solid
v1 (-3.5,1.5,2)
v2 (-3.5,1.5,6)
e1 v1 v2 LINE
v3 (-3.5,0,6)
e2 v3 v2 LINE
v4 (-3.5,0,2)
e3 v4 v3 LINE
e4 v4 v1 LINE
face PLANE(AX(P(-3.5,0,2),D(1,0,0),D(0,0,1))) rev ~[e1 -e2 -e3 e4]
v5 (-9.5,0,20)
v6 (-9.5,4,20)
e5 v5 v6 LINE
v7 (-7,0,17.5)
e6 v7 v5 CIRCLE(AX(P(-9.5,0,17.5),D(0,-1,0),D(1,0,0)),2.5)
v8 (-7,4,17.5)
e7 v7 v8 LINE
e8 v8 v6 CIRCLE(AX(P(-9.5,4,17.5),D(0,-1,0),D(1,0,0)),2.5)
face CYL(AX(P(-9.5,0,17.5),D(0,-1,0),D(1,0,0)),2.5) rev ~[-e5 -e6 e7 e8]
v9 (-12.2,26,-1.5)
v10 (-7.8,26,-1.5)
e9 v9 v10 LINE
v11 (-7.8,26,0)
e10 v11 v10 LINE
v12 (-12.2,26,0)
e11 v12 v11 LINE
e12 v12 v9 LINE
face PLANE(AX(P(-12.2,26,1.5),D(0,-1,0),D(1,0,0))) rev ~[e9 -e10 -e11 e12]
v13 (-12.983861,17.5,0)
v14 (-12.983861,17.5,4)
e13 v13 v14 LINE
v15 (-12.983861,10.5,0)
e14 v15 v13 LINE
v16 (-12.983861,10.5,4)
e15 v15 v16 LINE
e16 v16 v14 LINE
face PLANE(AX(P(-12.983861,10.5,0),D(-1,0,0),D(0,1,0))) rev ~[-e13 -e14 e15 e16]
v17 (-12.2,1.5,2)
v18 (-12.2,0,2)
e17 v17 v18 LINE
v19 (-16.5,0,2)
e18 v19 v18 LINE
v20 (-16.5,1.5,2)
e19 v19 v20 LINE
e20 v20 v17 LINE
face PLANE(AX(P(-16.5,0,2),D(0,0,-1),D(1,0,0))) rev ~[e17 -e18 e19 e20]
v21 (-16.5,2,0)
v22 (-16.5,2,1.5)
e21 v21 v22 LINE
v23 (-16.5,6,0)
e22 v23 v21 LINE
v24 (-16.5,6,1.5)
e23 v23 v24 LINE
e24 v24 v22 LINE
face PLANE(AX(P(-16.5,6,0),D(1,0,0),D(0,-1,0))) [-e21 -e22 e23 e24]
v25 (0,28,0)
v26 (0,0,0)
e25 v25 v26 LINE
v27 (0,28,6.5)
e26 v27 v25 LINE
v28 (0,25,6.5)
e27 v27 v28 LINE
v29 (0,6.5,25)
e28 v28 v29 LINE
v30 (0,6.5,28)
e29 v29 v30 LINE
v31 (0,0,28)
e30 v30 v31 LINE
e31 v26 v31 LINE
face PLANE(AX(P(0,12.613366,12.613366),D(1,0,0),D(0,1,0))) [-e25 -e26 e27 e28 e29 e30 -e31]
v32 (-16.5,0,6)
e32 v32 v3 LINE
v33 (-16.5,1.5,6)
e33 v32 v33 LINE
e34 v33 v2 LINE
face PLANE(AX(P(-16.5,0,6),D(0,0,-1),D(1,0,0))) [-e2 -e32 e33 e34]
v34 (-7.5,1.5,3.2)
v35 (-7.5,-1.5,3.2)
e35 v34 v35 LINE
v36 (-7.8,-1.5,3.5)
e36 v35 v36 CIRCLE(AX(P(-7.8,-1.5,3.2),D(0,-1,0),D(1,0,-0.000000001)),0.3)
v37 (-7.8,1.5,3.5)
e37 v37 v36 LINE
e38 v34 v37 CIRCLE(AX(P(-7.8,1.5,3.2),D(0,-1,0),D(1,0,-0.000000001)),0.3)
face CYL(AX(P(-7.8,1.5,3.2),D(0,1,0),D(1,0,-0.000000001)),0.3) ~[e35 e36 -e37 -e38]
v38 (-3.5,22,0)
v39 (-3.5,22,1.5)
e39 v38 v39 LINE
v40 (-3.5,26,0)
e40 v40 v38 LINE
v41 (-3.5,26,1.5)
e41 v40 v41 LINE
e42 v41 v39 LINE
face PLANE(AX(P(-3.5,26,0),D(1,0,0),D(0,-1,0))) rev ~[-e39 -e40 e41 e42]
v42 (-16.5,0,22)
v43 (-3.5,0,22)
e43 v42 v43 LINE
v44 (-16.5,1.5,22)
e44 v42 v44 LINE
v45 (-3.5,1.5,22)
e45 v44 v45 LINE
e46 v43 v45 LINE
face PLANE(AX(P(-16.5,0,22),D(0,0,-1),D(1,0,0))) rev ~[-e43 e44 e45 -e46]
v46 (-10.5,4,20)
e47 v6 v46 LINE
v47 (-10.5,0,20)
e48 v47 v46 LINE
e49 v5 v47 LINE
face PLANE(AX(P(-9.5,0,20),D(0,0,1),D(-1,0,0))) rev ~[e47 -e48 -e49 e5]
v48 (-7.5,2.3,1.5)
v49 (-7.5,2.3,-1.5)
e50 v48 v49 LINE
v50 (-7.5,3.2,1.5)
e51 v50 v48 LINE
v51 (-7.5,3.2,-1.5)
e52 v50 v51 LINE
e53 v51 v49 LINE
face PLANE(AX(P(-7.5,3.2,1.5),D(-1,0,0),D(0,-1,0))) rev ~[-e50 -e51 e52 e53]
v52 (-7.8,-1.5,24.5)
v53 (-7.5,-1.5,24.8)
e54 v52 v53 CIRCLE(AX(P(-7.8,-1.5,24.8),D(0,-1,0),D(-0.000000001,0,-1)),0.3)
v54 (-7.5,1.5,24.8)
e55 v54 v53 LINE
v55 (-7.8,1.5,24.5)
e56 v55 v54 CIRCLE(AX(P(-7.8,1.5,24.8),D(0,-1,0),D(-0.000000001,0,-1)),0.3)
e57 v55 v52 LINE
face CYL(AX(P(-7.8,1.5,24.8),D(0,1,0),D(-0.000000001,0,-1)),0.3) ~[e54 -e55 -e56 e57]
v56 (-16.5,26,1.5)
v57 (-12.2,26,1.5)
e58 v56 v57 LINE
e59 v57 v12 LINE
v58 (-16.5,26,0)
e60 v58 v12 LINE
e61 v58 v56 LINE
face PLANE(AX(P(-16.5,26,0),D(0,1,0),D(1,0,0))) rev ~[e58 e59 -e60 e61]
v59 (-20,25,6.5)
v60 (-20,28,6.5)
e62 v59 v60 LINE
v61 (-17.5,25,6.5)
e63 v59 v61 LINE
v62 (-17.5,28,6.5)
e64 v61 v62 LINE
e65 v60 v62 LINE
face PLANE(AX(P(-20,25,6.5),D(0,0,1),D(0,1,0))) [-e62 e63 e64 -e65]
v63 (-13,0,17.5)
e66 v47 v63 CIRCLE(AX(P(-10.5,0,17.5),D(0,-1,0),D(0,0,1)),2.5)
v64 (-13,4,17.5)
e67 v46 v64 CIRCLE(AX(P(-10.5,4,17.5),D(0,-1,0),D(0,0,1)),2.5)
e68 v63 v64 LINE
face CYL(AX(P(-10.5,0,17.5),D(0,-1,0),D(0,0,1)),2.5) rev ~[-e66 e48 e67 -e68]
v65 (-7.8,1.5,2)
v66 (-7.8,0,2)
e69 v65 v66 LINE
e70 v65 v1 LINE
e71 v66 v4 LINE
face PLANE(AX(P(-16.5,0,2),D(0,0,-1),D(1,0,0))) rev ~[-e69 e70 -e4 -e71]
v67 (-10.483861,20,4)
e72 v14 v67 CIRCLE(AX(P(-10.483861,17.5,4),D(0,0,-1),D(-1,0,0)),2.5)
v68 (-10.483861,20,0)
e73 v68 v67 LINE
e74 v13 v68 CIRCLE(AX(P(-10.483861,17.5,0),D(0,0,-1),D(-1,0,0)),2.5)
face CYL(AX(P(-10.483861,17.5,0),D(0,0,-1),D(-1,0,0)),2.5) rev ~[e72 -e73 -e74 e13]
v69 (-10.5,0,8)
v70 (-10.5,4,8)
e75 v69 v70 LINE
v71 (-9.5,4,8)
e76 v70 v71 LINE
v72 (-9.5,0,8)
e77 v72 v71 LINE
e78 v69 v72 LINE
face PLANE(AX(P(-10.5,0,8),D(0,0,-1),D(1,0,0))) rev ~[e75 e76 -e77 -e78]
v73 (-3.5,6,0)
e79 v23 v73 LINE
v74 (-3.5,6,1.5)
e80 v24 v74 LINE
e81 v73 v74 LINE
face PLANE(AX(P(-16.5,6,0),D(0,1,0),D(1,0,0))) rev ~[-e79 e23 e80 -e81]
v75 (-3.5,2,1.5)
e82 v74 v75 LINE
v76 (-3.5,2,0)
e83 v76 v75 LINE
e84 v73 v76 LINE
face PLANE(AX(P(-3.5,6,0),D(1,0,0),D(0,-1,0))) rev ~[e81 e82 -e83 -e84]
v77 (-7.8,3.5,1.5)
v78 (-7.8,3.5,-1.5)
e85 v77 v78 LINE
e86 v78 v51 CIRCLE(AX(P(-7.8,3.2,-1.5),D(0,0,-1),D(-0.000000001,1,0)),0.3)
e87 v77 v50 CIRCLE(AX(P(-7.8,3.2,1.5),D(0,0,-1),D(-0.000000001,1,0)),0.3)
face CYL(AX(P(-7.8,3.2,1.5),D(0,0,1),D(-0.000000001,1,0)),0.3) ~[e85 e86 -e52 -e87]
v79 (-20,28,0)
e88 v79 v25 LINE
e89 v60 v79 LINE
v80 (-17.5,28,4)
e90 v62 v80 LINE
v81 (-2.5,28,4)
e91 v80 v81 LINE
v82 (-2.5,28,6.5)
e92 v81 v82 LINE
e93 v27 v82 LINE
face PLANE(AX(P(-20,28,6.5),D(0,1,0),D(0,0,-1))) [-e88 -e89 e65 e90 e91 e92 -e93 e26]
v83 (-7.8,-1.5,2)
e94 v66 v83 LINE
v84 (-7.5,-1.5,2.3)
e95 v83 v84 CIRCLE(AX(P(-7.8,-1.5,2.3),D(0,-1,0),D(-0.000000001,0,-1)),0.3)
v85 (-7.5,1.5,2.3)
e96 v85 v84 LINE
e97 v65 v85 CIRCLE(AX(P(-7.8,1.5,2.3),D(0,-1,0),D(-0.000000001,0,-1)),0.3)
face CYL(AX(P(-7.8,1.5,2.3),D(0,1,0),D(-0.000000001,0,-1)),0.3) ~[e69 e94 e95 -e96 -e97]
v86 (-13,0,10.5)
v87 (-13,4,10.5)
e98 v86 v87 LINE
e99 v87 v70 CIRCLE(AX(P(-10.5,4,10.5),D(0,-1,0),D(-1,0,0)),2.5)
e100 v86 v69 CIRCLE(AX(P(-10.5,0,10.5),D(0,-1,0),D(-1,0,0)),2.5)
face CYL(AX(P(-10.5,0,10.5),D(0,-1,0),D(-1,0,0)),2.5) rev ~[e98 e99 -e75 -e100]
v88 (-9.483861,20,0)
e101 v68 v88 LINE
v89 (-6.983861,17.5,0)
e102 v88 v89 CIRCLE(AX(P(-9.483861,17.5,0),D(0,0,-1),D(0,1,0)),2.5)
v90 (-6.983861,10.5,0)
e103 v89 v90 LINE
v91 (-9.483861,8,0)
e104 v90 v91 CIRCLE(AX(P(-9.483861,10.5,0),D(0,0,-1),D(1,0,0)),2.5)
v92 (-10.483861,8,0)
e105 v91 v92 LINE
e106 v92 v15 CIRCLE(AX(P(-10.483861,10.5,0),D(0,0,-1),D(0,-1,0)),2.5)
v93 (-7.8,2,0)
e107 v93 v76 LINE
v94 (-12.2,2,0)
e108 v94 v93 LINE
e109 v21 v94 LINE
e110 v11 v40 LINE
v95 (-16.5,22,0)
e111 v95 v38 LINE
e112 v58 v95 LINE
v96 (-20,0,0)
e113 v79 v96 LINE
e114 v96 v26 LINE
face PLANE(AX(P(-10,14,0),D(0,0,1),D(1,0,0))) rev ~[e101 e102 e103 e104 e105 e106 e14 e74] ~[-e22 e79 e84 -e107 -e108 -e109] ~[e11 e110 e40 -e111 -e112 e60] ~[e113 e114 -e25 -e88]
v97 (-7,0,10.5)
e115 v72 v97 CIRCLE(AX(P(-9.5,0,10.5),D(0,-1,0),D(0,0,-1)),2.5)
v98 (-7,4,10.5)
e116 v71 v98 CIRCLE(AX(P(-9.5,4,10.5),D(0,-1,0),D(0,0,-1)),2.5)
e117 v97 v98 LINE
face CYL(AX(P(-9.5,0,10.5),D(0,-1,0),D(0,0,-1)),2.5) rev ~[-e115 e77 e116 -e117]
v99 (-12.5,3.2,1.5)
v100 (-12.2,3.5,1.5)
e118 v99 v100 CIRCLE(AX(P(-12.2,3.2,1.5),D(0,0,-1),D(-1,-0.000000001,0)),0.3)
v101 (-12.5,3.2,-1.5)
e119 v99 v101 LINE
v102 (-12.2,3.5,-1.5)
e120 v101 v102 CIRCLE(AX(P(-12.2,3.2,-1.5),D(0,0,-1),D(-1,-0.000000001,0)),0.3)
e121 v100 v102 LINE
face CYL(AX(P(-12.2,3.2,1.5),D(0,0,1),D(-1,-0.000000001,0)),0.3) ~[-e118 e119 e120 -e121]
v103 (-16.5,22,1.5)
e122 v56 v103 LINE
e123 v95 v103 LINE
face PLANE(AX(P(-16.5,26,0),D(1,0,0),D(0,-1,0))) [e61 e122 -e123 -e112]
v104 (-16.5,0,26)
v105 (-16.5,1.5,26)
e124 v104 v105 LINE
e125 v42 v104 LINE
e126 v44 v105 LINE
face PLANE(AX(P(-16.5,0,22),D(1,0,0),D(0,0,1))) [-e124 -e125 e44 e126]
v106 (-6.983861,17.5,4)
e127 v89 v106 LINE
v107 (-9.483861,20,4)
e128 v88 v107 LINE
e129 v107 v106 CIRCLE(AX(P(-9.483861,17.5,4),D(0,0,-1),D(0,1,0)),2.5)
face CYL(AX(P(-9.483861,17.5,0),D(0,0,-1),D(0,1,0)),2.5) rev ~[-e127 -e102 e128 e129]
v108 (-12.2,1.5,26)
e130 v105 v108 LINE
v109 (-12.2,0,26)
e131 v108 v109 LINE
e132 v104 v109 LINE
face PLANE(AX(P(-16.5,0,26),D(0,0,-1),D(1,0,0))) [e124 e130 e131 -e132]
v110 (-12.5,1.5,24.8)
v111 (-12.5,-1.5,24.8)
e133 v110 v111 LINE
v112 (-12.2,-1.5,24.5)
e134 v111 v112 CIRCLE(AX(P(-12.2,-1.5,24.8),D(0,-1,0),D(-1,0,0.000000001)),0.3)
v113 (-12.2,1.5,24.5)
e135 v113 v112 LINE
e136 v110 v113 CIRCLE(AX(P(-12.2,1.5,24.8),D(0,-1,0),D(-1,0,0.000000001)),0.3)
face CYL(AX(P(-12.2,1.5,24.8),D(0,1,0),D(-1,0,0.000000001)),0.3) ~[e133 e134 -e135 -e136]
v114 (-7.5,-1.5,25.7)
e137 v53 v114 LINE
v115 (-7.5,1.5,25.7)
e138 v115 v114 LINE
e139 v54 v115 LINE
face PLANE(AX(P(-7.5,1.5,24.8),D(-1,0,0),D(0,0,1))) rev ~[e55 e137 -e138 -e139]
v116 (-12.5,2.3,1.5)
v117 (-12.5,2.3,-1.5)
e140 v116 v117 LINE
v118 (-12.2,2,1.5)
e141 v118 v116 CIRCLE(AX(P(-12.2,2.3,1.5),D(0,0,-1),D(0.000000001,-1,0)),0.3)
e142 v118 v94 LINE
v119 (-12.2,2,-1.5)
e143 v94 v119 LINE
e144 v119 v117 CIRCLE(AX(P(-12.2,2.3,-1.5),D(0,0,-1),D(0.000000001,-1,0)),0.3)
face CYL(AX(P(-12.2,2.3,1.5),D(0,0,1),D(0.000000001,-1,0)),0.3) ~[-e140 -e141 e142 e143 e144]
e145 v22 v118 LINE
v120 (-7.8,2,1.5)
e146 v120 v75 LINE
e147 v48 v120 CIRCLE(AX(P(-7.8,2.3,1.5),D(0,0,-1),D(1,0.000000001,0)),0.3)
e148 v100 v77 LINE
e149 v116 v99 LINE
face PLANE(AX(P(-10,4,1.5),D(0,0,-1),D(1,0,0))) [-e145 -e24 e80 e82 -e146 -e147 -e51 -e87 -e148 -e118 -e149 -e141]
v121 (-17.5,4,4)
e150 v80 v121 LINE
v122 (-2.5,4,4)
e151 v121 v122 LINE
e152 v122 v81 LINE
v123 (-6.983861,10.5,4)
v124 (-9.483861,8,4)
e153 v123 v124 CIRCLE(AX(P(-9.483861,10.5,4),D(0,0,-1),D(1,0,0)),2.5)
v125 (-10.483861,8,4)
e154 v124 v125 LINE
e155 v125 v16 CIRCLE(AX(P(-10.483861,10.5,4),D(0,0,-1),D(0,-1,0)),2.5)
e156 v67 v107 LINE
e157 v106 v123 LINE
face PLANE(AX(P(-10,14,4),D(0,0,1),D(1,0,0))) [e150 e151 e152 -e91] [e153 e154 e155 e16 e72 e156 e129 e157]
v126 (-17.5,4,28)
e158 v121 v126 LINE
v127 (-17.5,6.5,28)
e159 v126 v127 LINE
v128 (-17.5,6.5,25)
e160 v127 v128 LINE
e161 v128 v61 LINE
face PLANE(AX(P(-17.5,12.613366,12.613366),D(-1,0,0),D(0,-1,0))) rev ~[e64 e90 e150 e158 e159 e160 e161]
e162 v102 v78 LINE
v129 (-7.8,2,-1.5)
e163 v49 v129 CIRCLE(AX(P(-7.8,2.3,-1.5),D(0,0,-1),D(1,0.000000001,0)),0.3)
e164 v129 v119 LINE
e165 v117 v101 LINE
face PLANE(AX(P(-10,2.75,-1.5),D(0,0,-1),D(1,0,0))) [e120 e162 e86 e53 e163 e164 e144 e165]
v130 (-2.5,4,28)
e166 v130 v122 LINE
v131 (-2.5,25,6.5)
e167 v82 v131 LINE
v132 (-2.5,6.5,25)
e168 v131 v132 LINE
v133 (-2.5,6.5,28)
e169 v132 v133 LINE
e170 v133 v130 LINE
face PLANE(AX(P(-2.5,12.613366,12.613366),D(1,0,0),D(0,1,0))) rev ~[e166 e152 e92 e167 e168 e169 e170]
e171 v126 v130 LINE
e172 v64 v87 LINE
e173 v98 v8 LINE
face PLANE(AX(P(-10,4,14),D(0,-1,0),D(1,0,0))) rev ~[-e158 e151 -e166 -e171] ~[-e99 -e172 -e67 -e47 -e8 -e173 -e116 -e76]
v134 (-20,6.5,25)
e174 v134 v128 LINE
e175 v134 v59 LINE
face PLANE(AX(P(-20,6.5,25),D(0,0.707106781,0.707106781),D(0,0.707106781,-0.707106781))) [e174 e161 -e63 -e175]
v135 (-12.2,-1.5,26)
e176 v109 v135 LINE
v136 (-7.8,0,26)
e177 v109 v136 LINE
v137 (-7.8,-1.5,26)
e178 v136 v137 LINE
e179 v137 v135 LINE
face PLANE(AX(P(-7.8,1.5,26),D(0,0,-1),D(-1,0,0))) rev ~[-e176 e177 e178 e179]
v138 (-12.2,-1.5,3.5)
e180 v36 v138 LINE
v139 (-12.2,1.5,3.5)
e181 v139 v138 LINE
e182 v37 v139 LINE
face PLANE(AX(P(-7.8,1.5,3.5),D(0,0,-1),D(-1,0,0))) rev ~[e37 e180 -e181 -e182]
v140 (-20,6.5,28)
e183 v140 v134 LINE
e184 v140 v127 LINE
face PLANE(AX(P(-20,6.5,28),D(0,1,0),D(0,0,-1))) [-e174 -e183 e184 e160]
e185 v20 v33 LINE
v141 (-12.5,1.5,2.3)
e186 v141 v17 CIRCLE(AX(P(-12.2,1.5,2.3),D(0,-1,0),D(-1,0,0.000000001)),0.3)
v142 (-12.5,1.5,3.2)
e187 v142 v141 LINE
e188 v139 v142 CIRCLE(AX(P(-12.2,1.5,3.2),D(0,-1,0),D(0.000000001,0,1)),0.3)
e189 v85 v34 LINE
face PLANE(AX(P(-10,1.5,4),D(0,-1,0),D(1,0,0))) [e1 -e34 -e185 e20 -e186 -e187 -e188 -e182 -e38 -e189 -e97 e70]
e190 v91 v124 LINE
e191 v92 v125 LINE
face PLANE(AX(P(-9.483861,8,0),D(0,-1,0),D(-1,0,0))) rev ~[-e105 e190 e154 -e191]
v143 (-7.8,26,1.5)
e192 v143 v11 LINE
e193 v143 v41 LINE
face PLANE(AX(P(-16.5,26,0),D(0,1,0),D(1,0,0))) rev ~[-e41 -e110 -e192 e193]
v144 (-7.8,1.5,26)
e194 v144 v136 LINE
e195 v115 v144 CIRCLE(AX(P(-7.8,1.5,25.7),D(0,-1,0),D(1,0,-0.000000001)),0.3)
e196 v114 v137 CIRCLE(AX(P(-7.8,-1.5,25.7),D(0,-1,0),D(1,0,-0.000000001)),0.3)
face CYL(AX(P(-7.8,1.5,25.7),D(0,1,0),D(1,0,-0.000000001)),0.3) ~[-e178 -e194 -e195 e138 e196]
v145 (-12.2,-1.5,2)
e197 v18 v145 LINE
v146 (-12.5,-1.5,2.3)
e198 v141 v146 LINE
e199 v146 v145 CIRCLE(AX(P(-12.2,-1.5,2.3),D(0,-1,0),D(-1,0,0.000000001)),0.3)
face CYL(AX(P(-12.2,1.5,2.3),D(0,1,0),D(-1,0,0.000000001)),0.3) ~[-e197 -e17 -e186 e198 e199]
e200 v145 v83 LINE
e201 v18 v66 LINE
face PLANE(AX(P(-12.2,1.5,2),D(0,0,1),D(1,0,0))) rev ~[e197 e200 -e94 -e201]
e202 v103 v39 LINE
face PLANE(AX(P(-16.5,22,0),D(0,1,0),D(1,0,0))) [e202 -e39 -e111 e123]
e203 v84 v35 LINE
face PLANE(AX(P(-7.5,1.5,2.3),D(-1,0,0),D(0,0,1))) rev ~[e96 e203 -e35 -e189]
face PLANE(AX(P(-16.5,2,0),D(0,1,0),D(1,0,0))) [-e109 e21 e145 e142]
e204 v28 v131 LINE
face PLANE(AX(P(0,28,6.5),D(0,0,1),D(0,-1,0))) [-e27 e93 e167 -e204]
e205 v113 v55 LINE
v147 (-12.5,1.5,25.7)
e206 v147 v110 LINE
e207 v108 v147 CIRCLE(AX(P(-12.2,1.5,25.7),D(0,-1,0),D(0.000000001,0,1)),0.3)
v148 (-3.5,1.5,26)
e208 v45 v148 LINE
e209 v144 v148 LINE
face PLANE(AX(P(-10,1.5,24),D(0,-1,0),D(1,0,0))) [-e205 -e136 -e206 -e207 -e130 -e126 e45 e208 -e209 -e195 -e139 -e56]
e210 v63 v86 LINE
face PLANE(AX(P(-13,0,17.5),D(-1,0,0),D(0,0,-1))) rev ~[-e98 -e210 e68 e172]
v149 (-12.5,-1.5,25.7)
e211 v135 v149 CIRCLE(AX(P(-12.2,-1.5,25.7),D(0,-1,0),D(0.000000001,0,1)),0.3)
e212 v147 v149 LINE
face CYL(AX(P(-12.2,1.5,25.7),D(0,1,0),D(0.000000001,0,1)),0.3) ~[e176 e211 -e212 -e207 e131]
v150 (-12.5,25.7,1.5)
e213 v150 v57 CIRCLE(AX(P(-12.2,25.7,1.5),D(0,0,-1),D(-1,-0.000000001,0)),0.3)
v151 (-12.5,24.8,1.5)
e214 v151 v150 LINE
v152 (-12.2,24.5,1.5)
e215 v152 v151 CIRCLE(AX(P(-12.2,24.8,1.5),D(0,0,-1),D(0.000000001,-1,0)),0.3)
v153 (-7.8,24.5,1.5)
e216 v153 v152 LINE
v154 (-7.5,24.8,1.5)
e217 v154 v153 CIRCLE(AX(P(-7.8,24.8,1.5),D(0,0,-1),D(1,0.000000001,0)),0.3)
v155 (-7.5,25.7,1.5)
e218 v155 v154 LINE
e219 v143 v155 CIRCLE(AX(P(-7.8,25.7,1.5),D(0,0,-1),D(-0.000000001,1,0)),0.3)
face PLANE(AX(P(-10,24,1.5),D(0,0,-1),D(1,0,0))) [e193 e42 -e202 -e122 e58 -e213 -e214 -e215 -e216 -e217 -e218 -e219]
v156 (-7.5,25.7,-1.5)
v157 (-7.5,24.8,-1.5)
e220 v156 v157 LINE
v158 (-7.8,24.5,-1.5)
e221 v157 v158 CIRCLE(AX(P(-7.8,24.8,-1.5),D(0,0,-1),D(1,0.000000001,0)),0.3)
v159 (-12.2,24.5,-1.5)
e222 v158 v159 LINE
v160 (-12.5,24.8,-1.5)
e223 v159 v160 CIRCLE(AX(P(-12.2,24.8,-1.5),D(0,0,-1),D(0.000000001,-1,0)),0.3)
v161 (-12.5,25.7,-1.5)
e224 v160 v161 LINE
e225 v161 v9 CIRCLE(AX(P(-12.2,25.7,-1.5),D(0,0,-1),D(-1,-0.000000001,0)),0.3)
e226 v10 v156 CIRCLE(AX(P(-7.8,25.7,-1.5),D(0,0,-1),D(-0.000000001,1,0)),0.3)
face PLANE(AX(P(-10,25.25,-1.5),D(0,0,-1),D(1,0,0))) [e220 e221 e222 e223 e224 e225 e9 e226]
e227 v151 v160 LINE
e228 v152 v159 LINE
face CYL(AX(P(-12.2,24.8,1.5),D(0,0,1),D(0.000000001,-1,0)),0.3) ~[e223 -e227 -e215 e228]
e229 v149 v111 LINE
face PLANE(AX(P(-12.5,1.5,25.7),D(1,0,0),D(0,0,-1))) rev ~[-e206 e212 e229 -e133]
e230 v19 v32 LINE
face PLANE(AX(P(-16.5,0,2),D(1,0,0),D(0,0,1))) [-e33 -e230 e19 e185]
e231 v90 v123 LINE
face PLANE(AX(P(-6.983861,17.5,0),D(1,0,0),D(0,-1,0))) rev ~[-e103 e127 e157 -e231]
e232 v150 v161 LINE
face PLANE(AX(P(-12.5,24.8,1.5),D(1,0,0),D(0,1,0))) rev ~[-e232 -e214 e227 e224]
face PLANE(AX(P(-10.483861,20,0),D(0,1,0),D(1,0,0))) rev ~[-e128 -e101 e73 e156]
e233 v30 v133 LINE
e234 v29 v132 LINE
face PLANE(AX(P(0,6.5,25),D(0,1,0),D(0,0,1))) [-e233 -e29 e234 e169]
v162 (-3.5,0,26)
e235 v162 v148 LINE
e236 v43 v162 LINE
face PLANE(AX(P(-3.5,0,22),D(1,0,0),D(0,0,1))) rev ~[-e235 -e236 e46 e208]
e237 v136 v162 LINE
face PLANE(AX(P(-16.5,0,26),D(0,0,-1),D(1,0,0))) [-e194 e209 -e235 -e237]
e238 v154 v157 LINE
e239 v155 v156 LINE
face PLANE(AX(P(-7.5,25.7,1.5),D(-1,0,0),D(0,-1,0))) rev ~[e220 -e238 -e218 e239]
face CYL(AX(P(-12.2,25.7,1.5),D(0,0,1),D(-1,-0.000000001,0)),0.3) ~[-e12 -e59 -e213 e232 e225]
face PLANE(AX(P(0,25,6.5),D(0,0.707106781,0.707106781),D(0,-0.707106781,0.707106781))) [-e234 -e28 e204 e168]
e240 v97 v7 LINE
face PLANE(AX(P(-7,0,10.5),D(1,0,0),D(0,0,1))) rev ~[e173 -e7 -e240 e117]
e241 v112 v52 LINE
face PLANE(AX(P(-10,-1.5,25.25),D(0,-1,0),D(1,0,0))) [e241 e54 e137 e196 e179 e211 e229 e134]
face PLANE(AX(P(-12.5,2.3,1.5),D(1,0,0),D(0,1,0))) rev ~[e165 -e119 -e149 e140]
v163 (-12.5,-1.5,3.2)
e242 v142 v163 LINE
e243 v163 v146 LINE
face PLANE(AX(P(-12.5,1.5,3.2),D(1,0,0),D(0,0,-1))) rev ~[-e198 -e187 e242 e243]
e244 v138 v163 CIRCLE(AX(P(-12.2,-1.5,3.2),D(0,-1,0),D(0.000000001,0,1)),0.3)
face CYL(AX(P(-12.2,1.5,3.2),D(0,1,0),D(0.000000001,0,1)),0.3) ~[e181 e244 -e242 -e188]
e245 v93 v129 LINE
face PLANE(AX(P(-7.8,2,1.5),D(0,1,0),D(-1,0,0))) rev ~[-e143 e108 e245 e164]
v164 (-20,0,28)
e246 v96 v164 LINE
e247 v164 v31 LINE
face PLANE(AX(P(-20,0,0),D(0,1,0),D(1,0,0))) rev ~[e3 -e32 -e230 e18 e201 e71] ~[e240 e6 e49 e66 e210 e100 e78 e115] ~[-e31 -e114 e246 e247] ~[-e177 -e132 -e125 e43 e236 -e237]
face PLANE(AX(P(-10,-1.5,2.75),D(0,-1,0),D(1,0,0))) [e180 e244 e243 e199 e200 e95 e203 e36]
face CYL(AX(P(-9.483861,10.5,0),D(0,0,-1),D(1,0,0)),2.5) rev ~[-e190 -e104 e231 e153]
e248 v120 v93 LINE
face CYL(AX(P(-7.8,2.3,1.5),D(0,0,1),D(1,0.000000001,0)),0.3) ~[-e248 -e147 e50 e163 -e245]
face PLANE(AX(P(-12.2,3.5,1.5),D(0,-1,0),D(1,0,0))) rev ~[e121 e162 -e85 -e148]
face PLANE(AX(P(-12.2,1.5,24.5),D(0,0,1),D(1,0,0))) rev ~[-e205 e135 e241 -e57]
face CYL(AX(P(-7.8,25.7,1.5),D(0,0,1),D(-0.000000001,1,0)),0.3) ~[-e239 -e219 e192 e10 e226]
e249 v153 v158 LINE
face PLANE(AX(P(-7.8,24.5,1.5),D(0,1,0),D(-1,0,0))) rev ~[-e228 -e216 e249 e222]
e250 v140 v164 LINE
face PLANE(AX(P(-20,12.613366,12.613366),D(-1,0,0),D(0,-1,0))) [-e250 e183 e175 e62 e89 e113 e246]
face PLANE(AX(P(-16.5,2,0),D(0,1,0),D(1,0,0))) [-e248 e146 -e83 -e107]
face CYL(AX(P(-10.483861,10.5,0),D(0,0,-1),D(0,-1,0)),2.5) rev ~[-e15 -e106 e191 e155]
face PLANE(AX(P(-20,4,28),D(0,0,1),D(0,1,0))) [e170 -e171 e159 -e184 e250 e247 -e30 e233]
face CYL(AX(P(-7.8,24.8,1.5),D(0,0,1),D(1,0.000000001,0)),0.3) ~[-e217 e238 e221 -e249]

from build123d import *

# Parameters (mm, degrees)
F0_W      = 20
F0_H      = 28
F1_DEPTH  = 4
F2_W      = 20
F2_H      = 28
F3_DEPTH  = 4
F4_W      = 13
F4_H      = 4
F5_DEPTH  = 1.5
F7_DEPTH  = 3
F9_DEPTH  = 3
F11_DEPTH = 4
F12_W     = 13
F12_H     = 4
F13_DEPTH = 1.5
F15_DEPTH = 4
F17_DEPTH = 3
F19_DEPTH = 3
F21_DEPTH = 2.5
F23_DEPTH = 2.5


with BuildPart() as f1:
    # F0 (on Top) → F1 (new body)
    with BuildSketch(Plane.XY):
        with Locations((-10, 14)):
            Rectangle(F0_W, F0_H)
    extrude(amount=F1_DEPTH)

    # F2 (on Front) → F3 (join)
    with BuildSketch(Plane.XZ):
        with Locations((-10, 14)):
            Rectangle(F2_W, F2_H)
    extrude(amount=-F3_DEPTH)

    # F4 (on face) → F5 (cut)
    with BuildSketch(Plane.XZ):
        with Locations((-10, 4)):
            Rectangle(F4_W, F4_H)
        with Locations((-10, 24)):
            Rectangle(F4_W, F4_H)
    extrude(amount=-F5_DEPTH, mode=Mode.SUBTRACT)

    # F6 (on face) → F7 (join)
    with BuildSketch(Plane.XZ.offset(-1.5)):
        with BuildLine():
            Line((-7.8, 3.5), (-12.2, 3.5))
            ThreePointArc((-12.2, 3.5), (-12.4121320344, 3.4121320344), (-12.5, 3.2))
            Line((-12.5, 3.2), (-12.5, 2.3))
            ThreePointArc((-12.5, 2.3), (-12.4121320344, 2.0878679656), (-12.2, 2))
            Line((-12.2, 2), (-7.8, 2))
            ThreePointArc((-7.8, 2), (-7.5878679656, 2.0878679656), (-7.5, 2.3))
            Line((-7.5, 2.3), (-7.5, 3.2))
            ThreePointArc((-7.5, 3.2), (-7.5878679656, 3.4121320344), (-7.8, 3.5))
        make_face()
    extrude(amount=F7_DEPTH)

    # F8 (on face) → F9 (join)
    with BuildSketch(Plane.XZ.offset(-1.5)):
        with BuildLine():
            Line((-7.8, 26), (-12.2, 26))
            ThreePointArc((-12.2, 26), (-12.4121320344, 25.9121320344), (-12.5, 25.7))
            Line((-12.5, 25.7), (-12.5, 24.8))
            ThreePointArc((-12.5, 24.8), (-12.4121320344, 24.5878679656), (-12.2, 24.5))
            Line((-12.2, 24.5), (-7.8, 24.5))
            ThreePointArc((-7.8, 24.5), (-7.5878679656, 24.5878679656), (-7.5, 24.8))
            Line((-7.5, 24.8), (-7.5, 25.7))
            ThreePointArc((-7.5, 25.7), (-7.5878679656, 25.9121320344), (-7.8, 26))
        make_face()
    extrude(amount=F9_DEPTH)

    # F10 (on face) → F11 (cut)
    with BuildSketch(Plane.XZ):
        with BuildLine():
            Line((-7, 10.5), (-7, 14))
            Line((-7, 14), (-13, 14))
            Line((-13, 14), (-13, 10.5))
            ThreePointArc((-13, 10.5), (-12.267766953, 8.732233047), (-10.5, 8))
            Line((-10.5, 8), (-9.5, 8))
            ThreePointArc((-9.5, 8), (-7.732233047, 8.732233047), (-7, 10.5))
        make_face()
        with BuildLine():
            Line((-13, 14), (-7, 14))
            Line((-7, 14), (-7, 17.5))
            ThreePointArc((-7, 17.5), (-7.732233047, 19.267766953), (-9.5, 20))
            Line((-9.5, 20), (-10.5, 20))
            ThreePointArc((-10.5, 20), (-12.267766953, 19.267766953), (-13, 17.5))
            Line((-13, 17.5), (-13, 14))
        make_face()
    extrude(amount=-F11_DEPTH, mode=Mode.SUBTRACT)

    # F12 (on face) → F13 (cut)
    with BuildSketch(Plane(origin=(0, 0, 0), x_dir=(1, 0, 0), z_dir=(0, 0, -1))):
        with Locations((-10, -24)):
            Rectangle(F12_W, F12_H)
        with Locations((-10, -4)):
            Rectangle(F12_W, F12_H)
    extrude(amount=-F13_DEPTH, mode=Mode.SUBTRACT)

    # F14 (on face) → F15 (cut)
    with BuildSketch(Plane(origin=(0, 0, 0), x_dir=(1, 0, 0), z_dir=(0, 0, -1))):
        with BuildLine():
            Line((-6.9838613272, -14), (-12.9838613272, -14))
            Line((-12.9838613272, -14), (-12.9838613272, -17.5))
            ThreePointArc((-12.9838613272, -17.5), (-12.2516282801, -19.267766953), (-10.4838613272, -20))
            Line((-10.4838613272, -20), (-9.4838613272, -20))
            ThreePointArc((-9.4838613272, -20), (-7.7160943742, -19.267766953), (-6.9838613272, -17.5))
            Line((-6.9838613272, -17.5), (-6.9838613272, -14))
        make_face()
        with BuildLine():
            Line((-9.4838613272, -8), (-10.4838613272, -8))
            ThreePointArc((-10.4838613272, -8), (-12.2516282801, -8.732233047), (-12.9838613272, -10.5))
            Line((-12.9838613272, -10.5), (-12.9838613272, -14))
            Line((-12.9838613272, -14), (-6.9838613272, -14))
            Line((-6.9838613272, -14), (-6.9838613272, -10.5))
            ThreePointArc((-6.9838613272, -10.5), (-7.7160943742, -8.732233047), (-9.4838613272, -8))
        make_face()
    extrude(amount=-F15_DEPTH, mode=Mode.SUBTRACT)

    # F16 (on face) → F17 (join)
    with BuildSketch(Plane(origin=(0, 0, 1.5), x_dir=(1, 0, 0), z_dir=(0, 0, -1))):
        with BuildLine():
            Line((-7.8, -24.5), (-12.2, -24.5))
            ThreePointArc((-12.2, -24.5), (-12.4121320344, -24.5878679656), (-12.5, -24.8))
            Line((-12.5, -24.8), (-12.5, -25.7))
            ThreePointArc((-12.5, -25.7), (-12.4121320344, -25.9121320344), (-12.2, -26))
            Line((-12.2, -26), (-7.8, -26))
            ThreePointArc((-7.8, -26), (-7.5878679656, -25.9121320344), (-7.5, -25.7))
            Line((-7.5, -25.7), (-7.5, -24.8))
            ThreePointArc((-7.5, -24.8), (-7.5878679656, -24.5878679656), (-7.8, -24.5))
        make_face()
    extrude(amount=F17_DEPTH)

    # F18 (on face) → F19 (join)
    with BuildSketch(Plane(origin=(0, 0, 1.5), x_dir=(1, 0, 0), z_dir=(0, 0, -1))):
        with BuildLine():
            Line((-12.2, -3.5), (-7.8, -3.5))
            ThreePointArc((-7.8, -3.5), (-7.5878679656, -3.4121320344), (-7.5, -3.2))
            Line((-7.5, -3.2), (-7.5, -2.3))
            ThreePointArc((-7.5, -2.3), (-7.5878679656, -2.0878679656), (-7.8, -2))
            Line((-7.8, -2), (-12.2, -2))
            ThreePointArc((-12.2, -2), (-12.4121320344, -2.0878679656), (-12.5, -2.3))
            Line((-12.5, -2.3), (-12.5, -3.2))
            ThreePointArc((-12.5, -3.2), (-12.4121320344, -3.4121320344), (-12.2, -3.5))
        make_face()
    extrude(amount=F19_DEPTH)

    # F20 (on face) → F21 (join)
    with BuildSketch(Plane.YZ):
        Polygon((4, 4), (28, 4), (28, 6.5), (25, 6.5), (6.5, 25), (6.5, 28), (4, 28), align=None)
    extrude(amount=-F21_DEPTH)

    # F22 (on face) → F23 (join)
    with BuildSketch(Plane(origin=(-20, 0, 0), x_dir=(0, -1, 0), z_dir=(-1, 0, 0))):
        Polygon((-4, 4), (-4, 28), (-6.5, 28), (-6.5, 25), (-25, 6.5), (-28, 6.5), (-28, 4), align=None)
    extrude(amount=-F23_DEPTH)


solid = f1.part
